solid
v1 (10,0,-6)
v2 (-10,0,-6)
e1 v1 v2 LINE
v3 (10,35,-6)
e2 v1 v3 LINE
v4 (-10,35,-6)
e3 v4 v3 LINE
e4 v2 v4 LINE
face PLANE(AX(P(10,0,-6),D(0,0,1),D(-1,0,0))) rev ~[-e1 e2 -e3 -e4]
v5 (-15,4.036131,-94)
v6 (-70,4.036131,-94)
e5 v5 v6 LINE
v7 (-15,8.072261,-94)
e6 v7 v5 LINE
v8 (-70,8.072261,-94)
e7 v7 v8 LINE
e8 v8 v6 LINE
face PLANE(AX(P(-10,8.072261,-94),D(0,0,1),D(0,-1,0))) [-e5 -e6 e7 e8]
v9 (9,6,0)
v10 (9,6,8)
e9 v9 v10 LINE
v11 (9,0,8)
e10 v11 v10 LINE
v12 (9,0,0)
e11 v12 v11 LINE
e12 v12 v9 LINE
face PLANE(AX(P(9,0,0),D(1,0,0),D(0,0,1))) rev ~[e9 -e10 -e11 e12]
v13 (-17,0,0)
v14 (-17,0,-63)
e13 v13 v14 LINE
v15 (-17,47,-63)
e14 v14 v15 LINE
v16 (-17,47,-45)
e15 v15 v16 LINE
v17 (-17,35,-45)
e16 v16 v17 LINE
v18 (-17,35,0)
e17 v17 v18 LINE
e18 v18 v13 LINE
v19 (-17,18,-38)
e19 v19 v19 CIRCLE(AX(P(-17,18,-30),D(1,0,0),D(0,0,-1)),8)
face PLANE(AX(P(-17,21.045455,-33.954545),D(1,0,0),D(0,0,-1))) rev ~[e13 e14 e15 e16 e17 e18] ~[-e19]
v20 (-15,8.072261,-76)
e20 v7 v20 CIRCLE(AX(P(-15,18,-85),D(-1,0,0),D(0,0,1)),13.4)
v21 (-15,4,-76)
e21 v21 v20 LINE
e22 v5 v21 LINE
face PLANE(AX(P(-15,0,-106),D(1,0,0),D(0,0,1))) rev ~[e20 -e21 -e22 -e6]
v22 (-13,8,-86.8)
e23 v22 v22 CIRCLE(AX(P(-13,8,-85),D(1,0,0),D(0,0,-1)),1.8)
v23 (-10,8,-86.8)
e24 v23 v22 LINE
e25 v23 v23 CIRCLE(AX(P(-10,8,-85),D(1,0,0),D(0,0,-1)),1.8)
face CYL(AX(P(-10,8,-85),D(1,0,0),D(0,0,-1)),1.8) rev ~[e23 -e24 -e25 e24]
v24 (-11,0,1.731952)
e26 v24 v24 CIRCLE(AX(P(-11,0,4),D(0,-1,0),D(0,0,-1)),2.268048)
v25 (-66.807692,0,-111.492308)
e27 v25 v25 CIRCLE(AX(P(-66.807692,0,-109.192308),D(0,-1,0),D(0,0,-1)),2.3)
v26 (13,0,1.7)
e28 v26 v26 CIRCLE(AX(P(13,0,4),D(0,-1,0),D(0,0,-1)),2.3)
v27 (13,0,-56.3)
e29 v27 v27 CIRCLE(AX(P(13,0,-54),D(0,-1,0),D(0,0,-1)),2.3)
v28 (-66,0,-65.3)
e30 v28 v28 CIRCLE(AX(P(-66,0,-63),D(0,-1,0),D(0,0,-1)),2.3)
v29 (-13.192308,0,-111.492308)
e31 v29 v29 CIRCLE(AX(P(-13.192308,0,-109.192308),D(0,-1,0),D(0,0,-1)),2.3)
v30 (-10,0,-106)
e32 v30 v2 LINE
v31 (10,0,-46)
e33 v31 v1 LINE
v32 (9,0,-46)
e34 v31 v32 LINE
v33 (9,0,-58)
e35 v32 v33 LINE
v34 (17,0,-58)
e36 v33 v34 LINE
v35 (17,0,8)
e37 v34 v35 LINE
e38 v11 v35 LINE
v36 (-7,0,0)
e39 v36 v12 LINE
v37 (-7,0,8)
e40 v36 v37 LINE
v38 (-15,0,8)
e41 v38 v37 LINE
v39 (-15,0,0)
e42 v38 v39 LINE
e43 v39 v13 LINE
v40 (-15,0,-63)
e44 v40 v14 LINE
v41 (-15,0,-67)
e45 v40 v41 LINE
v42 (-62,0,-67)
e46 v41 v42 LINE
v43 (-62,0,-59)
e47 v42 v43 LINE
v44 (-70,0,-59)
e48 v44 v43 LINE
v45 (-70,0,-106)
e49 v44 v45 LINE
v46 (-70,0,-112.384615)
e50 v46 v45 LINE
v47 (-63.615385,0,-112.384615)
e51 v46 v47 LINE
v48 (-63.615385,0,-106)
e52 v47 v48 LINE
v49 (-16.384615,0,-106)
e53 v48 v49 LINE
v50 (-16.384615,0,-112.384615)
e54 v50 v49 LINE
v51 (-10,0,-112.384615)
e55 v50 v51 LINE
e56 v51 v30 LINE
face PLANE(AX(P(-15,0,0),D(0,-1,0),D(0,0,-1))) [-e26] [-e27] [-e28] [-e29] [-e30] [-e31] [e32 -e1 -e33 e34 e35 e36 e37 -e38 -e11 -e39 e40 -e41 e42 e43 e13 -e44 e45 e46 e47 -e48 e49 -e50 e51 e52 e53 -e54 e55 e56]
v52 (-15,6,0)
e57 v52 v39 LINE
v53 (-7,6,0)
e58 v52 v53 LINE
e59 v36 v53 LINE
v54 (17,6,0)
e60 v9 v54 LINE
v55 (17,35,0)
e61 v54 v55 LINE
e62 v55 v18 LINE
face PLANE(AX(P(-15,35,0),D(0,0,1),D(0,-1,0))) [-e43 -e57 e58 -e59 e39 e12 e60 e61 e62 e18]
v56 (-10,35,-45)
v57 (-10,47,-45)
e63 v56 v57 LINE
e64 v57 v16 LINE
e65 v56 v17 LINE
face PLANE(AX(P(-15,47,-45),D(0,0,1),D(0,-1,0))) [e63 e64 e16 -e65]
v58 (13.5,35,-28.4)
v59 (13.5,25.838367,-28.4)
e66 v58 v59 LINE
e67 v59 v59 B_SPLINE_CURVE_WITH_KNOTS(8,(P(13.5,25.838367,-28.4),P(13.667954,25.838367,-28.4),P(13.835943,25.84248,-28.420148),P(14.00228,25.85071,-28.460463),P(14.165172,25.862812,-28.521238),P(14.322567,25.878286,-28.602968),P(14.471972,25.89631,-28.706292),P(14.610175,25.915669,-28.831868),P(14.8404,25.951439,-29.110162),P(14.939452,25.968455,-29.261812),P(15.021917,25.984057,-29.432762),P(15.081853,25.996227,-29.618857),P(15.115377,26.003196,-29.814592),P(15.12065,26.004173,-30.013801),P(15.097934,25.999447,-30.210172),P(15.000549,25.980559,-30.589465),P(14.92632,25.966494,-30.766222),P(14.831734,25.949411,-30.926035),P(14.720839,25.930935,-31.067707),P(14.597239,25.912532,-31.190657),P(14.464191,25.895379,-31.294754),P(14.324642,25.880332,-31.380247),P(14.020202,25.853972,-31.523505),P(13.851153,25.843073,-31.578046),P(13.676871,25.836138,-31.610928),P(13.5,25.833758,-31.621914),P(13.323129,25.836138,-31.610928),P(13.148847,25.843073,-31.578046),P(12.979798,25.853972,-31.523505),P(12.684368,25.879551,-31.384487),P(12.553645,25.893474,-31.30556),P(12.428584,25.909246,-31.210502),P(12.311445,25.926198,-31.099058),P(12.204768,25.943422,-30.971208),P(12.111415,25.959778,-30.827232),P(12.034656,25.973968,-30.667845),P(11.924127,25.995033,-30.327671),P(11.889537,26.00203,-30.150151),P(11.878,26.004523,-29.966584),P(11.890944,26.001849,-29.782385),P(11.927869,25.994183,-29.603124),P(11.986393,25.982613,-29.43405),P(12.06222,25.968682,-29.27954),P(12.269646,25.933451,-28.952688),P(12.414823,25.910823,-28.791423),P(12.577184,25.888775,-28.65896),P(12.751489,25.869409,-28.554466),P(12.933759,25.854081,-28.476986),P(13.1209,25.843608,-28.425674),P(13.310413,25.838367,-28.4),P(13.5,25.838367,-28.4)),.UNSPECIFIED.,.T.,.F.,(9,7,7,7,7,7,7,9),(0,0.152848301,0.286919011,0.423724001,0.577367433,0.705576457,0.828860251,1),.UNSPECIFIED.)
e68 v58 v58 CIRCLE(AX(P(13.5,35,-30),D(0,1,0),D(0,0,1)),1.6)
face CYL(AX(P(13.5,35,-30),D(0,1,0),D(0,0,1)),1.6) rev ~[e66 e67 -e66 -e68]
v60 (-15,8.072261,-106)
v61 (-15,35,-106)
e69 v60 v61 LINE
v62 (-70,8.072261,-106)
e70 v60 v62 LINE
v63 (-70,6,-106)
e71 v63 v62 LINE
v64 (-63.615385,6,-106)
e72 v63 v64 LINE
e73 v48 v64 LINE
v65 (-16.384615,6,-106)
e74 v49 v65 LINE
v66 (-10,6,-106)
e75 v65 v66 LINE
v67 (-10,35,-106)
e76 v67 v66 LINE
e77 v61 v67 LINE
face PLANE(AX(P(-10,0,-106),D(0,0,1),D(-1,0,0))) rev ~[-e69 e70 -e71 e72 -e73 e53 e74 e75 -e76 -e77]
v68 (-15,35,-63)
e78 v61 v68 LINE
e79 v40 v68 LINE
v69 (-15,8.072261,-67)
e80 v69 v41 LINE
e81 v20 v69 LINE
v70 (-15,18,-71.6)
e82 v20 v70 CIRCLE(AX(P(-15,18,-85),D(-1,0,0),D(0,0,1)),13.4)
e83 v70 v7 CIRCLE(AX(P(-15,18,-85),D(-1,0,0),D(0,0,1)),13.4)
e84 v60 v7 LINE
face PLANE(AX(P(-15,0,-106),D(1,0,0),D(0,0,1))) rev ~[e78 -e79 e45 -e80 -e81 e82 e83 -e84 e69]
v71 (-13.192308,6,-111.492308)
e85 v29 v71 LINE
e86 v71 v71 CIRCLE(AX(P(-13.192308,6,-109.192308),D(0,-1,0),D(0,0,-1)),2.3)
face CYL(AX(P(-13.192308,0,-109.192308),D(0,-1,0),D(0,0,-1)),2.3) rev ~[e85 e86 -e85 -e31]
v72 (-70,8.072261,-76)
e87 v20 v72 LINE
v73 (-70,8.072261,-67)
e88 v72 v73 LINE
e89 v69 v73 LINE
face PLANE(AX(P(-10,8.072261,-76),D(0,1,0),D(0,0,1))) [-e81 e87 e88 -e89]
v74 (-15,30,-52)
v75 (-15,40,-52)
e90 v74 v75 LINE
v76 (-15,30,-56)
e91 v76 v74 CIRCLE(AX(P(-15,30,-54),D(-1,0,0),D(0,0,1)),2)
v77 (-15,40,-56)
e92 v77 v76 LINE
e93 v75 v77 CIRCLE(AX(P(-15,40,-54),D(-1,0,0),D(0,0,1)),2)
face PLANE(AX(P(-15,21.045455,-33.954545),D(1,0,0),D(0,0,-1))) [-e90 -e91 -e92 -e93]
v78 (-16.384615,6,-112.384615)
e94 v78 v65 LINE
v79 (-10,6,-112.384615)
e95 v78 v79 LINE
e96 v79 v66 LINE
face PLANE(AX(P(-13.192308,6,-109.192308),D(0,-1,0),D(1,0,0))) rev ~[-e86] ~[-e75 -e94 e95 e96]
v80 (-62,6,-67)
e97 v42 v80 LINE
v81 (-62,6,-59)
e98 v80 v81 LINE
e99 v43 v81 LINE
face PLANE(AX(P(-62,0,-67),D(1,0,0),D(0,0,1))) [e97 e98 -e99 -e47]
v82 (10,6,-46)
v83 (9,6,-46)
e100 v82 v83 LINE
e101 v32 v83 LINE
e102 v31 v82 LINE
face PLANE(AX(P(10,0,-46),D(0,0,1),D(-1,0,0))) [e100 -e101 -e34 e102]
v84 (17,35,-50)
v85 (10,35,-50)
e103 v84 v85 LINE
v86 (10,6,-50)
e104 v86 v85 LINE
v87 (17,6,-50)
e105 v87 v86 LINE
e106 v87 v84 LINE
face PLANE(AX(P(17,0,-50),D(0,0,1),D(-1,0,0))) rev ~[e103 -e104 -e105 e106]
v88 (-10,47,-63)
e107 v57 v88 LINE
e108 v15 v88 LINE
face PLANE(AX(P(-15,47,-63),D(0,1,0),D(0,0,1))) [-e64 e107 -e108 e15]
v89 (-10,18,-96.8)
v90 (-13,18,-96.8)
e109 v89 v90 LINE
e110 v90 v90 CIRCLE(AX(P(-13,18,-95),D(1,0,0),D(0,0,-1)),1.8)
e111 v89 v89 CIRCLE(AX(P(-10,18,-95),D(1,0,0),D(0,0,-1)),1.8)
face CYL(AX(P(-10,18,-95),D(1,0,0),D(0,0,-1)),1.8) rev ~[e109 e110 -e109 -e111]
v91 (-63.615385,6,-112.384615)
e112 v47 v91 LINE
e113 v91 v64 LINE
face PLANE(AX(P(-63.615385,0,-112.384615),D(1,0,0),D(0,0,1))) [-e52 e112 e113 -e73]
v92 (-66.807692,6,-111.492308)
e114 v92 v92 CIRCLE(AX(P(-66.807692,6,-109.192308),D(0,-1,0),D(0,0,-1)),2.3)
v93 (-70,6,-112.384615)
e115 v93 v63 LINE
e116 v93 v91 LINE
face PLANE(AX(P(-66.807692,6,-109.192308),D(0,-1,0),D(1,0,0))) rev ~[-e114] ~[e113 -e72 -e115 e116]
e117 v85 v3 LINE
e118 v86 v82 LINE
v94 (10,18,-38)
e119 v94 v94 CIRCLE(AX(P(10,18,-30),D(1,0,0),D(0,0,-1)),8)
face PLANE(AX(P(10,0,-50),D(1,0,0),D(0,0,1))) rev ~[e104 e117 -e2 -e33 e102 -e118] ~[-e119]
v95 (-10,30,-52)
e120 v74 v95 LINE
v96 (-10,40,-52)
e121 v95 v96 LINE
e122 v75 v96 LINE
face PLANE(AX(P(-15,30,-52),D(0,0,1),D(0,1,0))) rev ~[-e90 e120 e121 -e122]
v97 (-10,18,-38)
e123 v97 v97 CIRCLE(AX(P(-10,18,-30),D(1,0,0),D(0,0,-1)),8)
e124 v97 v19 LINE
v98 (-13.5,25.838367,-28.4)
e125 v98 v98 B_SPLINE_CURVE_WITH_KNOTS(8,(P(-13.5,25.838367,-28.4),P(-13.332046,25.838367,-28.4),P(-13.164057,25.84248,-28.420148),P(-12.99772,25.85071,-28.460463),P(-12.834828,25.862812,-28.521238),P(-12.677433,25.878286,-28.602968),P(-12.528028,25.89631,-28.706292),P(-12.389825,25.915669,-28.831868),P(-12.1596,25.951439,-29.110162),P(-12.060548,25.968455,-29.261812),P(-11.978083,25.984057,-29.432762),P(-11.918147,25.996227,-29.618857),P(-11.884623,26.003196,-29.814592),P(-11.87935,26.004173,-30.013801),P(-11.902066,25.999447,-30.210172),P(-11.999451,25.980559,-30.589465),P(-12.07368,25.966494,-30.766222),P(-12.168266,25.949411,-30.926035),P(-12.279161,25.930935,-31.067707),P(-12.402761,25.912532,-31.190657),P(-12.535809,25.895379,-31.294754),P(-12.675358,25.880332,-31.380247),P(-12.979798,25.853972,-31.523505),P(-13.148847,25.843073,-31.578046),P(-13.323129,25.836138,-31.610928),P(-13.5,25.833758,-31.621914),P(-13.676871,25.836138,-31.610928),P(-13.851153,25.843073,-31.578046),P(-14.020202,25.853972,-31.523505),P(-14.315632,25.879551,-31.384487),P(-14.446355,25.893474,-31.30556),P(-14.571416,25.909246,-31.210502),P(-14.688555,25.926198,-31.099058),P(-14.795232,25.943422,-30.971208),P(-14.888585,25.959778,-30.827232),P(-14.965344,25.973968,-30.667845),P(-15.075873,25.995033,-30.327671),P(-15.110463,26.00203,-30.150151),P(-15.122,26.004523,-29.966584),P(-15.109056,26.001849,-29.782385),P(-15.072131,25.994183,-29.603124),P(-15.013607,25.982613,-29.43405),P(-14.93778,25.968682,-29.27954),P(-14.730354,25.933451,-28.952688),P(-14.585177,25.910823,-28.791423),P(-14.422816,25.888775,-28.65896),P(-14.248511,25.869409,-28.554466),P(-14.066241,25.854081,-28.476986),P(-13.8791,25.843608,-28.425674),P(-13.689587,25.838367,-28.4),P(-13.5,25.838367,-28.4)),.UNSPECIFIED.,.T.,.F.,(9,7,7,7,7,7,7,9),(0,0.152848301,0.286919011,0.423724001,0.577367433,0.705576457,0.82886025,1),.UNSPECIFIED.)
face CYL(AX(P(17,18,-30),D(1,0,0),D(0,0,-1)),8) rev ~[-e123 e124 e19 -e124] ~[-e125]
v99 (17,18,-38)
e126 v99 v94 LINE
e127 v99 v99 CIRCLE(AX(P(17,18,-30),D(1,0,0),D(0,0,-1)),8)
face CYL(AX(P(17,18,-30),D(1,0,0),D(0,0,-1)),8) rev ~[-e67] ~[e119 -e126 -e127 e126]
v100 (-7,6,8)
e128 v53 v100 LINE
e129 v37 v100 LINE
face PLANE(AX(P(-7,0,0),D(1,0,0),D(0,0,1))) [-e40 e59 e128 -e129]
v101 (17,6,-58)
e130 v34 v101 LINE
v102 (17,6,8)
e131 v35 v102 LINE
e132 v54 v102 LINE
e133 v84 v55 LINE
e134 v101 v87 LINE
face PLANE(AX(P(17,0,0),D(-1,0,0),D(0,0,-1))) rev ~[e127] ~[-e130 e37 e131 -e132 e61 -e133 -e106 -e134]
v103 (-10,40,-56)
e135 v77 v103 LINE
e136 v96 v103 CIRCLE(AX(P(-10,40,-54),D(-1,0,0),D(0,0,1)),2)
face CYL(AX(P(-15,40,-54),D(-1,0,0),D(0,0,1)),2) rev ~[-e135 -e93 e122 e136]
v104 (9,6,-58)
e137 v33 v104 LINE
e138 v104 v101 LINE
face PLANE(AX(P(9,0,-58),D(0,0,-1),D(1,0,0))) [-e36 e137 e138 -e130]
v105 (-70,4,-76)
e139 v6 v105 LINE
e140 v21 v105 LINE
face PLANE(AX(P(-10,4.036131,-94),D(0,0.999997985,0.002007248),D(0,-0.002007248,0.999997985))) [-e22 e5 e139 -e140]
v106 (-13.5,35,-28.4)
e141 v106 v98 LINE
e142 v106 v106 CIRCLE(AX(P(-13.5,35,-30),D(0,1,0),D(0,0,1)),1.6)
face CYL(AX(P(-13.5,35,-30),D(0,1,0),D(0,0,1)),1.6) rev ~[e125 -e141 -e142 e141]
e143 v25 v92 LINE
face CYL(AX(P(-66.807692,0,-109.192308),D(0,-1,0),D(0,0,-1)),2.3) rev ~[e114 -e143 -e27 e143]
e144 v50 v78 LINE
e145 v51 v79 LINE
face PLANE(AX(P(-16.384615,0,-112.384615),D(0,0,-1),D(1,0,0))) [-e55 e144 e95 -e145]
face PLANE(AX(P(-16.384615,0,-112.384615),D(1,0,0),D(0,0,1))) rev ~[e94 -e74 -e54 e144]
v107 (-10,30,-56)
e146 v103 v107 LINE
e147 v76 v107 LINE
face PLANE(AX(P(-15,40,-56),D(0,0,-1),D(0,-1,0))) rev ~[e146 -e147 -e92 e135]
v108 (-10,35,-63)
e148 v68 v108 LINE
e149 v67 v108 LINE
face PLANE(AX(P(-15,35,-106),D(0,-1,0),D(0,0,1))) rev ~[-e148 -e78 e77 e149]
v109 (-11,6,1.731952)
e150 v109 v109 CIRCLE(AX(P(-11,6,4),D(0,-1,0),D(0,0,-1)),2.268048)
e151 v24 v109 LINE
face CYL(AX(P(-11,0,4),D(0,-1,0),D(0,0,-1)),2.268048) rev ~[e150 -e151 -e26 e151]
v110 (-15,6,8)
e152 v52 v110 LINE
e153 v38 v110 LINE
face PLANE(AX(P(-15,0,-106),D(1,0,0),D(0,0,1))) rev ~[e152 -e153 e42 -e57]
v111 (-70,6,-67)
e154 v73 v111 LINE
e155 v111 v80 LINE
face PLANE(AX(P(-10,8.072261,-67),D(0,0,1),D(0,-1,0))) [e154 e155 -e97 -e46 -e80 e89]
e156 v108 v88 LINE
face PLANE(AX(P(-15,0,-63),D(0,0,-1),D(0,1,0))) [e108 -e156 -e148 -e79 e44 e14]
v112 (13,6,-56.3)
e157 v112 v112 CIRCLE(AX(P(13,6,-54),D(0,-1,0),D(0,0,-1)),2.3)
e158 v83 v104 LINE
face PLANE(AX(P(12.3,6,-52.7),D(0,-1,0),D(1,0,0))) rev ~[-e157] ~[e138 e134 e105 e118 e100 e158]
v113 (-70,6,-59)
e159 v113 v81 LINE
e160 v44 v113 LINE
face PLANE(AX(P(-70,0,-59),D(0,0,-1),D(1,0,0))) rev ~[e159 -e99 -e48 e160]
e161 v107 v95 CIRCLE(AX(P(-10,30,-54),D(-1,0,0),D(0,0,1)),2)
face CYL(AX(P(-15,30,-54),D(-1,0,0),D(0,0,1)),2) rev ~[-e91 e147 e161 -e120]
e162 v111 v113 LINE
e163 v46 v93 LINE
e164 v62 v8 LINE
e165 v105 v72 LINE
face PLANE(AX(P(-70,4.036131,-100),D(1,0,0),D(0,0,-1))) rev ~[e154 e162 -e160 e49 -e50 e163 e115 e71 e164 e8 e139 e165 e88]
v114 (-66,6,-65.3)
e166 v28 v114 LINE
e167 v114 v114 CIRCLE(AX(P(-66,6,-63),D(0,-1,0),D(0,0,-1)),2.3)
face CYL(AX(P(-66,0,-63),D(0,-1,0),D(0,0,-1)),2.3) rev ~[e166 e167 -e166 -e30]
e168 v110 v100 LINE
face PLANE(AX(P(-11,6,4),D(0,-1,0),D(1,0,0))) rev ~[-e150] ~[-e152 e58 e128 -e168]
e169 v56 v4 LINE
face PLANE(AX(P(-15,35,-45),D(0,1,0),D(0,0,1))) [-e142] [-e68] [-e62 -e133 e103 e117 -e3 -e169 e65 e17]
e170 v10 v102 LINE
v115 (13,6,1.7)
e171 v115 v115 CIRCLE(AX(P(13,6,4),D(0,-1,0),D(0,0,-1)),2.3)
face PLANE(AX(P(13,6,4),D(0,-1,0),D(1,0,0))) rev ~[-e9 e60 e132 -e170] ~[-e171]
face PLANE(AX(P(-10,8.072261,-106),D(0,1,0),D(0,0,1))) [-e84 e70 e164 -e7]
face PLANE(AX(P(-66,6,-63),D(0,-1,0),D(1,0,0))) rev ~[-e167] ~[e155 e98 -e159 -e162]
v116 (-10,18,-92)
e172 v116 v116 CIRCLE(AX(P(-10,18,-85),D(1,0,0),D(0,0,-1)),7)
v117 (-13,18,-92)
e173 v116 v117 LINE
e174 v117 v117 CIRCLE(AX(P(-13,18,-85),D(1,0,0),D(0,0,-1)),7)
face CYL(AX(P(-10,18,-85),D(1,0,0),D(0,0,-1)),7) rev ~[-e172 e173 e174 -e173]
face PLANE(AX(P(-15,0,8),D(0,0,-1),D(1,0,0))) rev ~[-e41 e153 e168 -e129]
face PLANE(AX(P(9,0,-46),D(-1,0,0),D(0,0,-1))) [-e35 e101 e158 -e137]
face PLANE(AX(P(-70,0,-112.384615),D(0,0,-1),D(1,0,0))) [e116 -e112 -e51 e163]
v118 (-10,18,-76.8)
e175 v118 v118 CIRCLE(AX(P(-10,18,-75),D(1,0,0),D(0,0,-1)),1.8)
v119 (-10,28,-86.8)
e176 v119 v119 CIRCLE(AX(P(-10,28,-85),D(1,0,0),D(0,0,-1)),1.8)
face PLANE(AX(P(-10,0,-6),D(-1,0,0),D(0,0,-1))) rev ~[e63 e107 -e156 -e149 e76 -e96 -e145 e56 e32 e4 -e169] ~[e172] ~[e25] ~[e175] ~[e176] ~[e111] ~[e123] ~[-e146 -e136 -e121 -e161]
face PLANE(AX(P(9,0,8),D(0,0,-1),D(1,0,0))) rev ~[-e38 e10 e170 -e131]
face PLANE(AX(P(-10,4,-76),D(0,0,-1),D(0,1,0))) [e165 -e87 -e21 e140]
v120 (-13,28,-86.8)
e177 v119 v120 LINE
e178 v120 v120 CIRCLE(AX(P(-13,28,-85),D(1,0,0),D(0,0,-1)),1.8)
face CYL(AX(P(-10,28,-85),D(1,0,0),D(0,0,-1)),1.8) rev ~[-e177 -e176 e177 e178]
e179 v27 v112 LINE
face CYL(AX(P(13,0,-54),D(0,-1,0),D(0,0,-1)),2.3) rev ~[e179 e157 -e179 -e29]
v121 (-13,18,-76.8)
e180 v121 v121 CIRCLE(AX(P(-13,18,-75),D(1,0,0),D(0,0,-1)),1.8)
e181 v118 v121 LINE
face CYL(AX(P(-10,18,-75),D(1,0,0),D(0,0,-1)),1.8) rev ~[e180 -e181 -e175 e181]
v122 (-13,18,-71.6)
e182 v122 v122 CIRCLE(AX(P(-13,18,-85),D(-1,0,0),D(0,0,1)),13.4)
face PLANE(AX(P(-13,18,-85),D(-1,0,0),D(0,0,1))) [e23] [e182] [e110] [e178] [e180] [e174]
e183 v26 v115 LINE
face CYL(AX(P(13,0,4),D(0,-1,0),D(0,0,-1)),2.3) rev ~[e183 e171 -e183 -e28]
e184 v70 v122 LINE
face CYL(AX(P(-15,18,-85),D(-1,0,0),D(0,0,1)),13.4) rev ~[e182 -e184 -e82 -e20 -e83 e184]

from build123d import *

# Parameters (mm, degrees)
BOSS_EXTRU_1_DEPTH       = 47
ESQUISSE3_R              = 2
ENL_V_MAT_EXTRU_2_DEPTH  = 50
ESQUISSE4_R              = 1.8
ESQUISSE4_R_2            = 7
ENL_V_MAT_EXTRU_3_DEPTH  = 5
BOSS_EXTRU_2_DEPTH       = 60
ESQUISSE11_W             = 8
ESQUISSE11_H             = 8
ESQUISSE11_R             = 2.3
ESQUISSE11_R_2           = 2.268048231
ESQUISSE11_W_2           = 6.384615385
ESQUISSE11_H_2           = 6.384615385
BOSS_EXTRU_6_DEPTH       = 6
ESQUISSE12_W             = 43
ESQUISSE12_H             = 12
ESQUISSE12_W_2           = 45
ENL_V_MAT_EXTRU_5_DEPTH  = 50
ESQUISSE13_W             = 5
ESQUISSE13_H             = 12
ENL_V_MAT_EXTRU_6_DEPTH  = 20
ESQUISSE25_R             = 13.4
ENL_V_MAT_EXTRU_8_DEPTH  = 2
ESQUISSE26_R             = 1.6
ENL_V_MAT_EXTRU_9_DEPTH  = 10
BOSS_EXTRU_7_DEPTH       = 2
ESQUISSE2_R              = 8
ENL_V_MAT_EXTRU_10_DEPTH = 60
ESQUISSE30_R             = 1.6
ENL_V_MAT_EXTRU_18_DEPTH = 10


with BuildPart() as part:
    # Esquisse1 → Boss.-Extru.1 (new body)
    with BuildSketch(Plane(origin=(0, 0, 0), x_dir=(1, 0, 0), z_dir=(0, 1, 0))):
        Polygon((-15, 0), (17, 0), (17, 50), (10, 50), (10, 6), (-10, 6), (-10, 106), (-15, 106), align=None)
    extrude(amount=BOSS_EXTRU_1_DEPTH)

    # Esquisse3 → Enlèv. mat.-Extru.2 (cut)
    with BuildSketch(Plane.ZY.offset(15)):
        with BuildLine():
            Line((-52, 30), (-52, 40))
            ThreePointArc((-52, 40), (-54, 38), (-56, 40))
            Line((-56, 40), (-56, 30))
            ThreePointArc((-56, 30), (-54, 32), (-52, 30))
        make_face()
        with Locations((-54, 40)):
            Circle(ESQUISSE3_R)
        with Locations((-54, 30)):
            Circle(ESQUISSE3_R)
    extrude(amount=-ENL_V_MAT_EXTRU_2_DEPTH, mode=Mode.SUBTRACT)

    # Esquisse4 → Enlèv. mat.-Extru.3 (cut)
    with BuildSketch(Plane(origin=(-10, 0, 0), x_dir=(0, 0, -1), z_dir=(1, 0, 0))):
        with Locations((85, 8)):
            Circle(ESQUISSE4_R)
        with Locations((95, 18)):
            Circle(ESQUISSE4_R)
        with Locations((75, 18)):
            Circle(ESQUISSE4_R)
        with Locations((85, 28)):
            Circle(ESQUISSE4_R)
        with Locations((85, 18)):
            Circle(ESQUISSE4_R_2)
    extrude(amount=-ENL_V_MAT_EXTRU_3_DEPTH, mode=Mode.SUBTRACT)

    # Esquisse4<4> → Boss.-Extru.2 (add)
    with BuildSketch(Plane(origin=(-10, 0, 0), x_dir=(0, 0, -1), z_dir=(1, 0, 0))):
        Polygon((94, 0), (106, 0), (106, 8.072261083), (94, 8.072261083), (94, 4.036130542), align=None)
        Polygon((67, 0), (76, 0), (76, 4), (76, 8.072261083), (67, 8.072261083), align=None)
        Polygon((76, 0), (94, 0), (94, 4.036130542), (76, 4), align=None)
    extrude(amount=-BOSS_EXTRU_2_DEPTH)

    # Esquisse11 → Boss.-Extru.6 (add)
    # profile 1 of 6: a face of its own
    with BuildSketch(Plane.XZ):
        with Locations((13, 4)):
            Rectangle(ESQUISSE11_W, ESQUISSE11_H)
        with Locations(Location((13, 4, 0), (0, 0, 270))):
            Circle(ESQUISSE11_R, mode=Mode.SUBTRACT)
    # profile 2 of 6: a face of its own
    with BuildSketch(Plane.XZ):
        Polygon((17, -58), (17, -50), (10, -50), (10, -46), (9, -46), (9, -58), align=None)
        with Locations(Location((13, -54, 0), (0, 0, 270))):
            Circle(ESQUISSE11_R, mode=Mode.SUBTRACT)
    # profile 3 of 6: a face of its own
    with BuildSketch(Plane.XZ):
        with Locations((-11, 4)):
            Rectangle(ESQUISSE11_W, ESQUISSE11_H)
        with Locations(Location((-11, 4, 0), (0, 0, 270))):
            Circle(ESQUISSE11_R_2, mode=Mode.SUBTRACT)
    # profile 4 of 6: a face of its own
    with BuildSketch(Plane.XZ):
        with Locations((-66, -63)):
            Rectangle(ESQUISSE11_W, ESQUISSE11_H)
        with Locations(Location((-66, -63, 0), (0, 0, 270))):
            Circle(ESQUISSE11_R, mode=Mode.SUBTRACT)
    # profile 5 of 6: a face of its own
    with BuildSketch(Plane.XZ):
        with Locations((-13.192307693, -109.192307693)):
            Rectangle(ESQUISSE11_W_2, ESQUISSE11_H_2)
        with Locations(Location((-13.192307692, -109.192307692, 0), (0, 0, 270))):
            Circle(ESQUISSE11_R, mode=Mode.SUBTRACT)
    # profile 6 of 6: a face of its own
    with BuildSketch(Plane.XZ):
        with Locations((-66.807692308, -109.192307693)):
            Rectangle(ESQUISSE11_W_2, ESQUISSE11_H_2)
        with Locations(Location((-66.807692308, -109.192307692, 0), (0, 0, 270))):
            Circle(ESQUISSE11_R, mode=Mode.SUBTRACT)
    extrude(amount=-BOSS_EXTRU_6_DEPTH)

    # Esquisse12 → Enlèv. mat.-Extru.5 (cut)
    with BuildSketch(Plane.ZY.offset(15)):
        with Locations((-84.5, 41)):
            Rectangle(ESQUISSE12_W, ESQUISSE12_H)
        with Locations((-22.5, 41)):
            Rectangle(ESQUISSE12_W_2, ESQUISSE12_H)
    extrude(amount=-ENL_V_MAT_EXTRU_5_DEPTH, mode=Mode.SUBTRACT)

    # Esquisse13 → Enlèv. mat.-Extru.6 (cut)
    with BuildSketch(Plane(origin=(17, 0, 0), x_dir=(0, 0, -1), z_dir=(1, 0, 0))):
        with Locations((47.5, 41)):
            Rectangle(ESQUISSE13_W, ESQUISSE13_H)
    extrude(amount=-ENL_V_MAT_EXTRU_6_DEPTH, mode=Mode.SUBTRACT)

    # Esquisse25 → Enlèv. mat.-Extru.8 (cut)
    with BuildSketch(Plane.ZY.offset(15)):
        with Locations((-85, 18)):
            Circle(ESQUISSE25_R)
    extrude(amount=-ENL_V_MAT_EXTRU_8_DEPTH, mode=Mode.SUBTRACT)

    # Esquisse26 → Enlèv. mat.-Extru.9 (cut)
    with BuildSketch(Plane(origin=(0, 35, 0), x_dir=(1, 0, 0), z_dir=(0, 1, 0))):
        with Locations(Location((13.5, 30, 0), (0, 0, 270))):
            Circle(ESQUISSE26_R)
    extrude(amount=-ENL_V_MAT_EXTRU_9_DEPTH, mode=Mode.SUBTRACT)

    # Esquisse27 → Boss.-Extru.7 (add)
    with BuildSketch(Plane.ZY.offset(15)):
        Polygon((0, 35), (0, 0), (-63, 0), (-63, 47), (-45, 47), (-45, 35), align=None)
    extrude(amount=BOSS_EXTRU_7_DEPTH)

    # Esquisse2 → Enlèv. mat.-Extru.10 (cut)
    with BuildSketch(Plane(origin=(17, 0, 0), x_dir=(0, 0, -1), z_dir=(1, 0, 0))):
        with Locations((30, 18)):
            Circle(ESQUISSE2_R)
    extrude(amount=-ENL_V_MAT_EXTRU_10_DEPTH, mode=Mode.SUBTRACT)

    # Esquisse30 → Enlèv. mat.-Extru.18 (cut)
    with BuildSketch(Plane(origin=(0, 35, 0), x_dir=(1, 0, 0), z_dir=(0, 1, 0))):
        with Locations(Location((-13.5, 30, 0), (0, 0, 270))):
            Circle(ESQUISSE30_R)
    extrude(amount=-ENL_V_MAT_EXTRU_18_DEPTH, mode=Mode.SUBTRACT)


solid = part.part
